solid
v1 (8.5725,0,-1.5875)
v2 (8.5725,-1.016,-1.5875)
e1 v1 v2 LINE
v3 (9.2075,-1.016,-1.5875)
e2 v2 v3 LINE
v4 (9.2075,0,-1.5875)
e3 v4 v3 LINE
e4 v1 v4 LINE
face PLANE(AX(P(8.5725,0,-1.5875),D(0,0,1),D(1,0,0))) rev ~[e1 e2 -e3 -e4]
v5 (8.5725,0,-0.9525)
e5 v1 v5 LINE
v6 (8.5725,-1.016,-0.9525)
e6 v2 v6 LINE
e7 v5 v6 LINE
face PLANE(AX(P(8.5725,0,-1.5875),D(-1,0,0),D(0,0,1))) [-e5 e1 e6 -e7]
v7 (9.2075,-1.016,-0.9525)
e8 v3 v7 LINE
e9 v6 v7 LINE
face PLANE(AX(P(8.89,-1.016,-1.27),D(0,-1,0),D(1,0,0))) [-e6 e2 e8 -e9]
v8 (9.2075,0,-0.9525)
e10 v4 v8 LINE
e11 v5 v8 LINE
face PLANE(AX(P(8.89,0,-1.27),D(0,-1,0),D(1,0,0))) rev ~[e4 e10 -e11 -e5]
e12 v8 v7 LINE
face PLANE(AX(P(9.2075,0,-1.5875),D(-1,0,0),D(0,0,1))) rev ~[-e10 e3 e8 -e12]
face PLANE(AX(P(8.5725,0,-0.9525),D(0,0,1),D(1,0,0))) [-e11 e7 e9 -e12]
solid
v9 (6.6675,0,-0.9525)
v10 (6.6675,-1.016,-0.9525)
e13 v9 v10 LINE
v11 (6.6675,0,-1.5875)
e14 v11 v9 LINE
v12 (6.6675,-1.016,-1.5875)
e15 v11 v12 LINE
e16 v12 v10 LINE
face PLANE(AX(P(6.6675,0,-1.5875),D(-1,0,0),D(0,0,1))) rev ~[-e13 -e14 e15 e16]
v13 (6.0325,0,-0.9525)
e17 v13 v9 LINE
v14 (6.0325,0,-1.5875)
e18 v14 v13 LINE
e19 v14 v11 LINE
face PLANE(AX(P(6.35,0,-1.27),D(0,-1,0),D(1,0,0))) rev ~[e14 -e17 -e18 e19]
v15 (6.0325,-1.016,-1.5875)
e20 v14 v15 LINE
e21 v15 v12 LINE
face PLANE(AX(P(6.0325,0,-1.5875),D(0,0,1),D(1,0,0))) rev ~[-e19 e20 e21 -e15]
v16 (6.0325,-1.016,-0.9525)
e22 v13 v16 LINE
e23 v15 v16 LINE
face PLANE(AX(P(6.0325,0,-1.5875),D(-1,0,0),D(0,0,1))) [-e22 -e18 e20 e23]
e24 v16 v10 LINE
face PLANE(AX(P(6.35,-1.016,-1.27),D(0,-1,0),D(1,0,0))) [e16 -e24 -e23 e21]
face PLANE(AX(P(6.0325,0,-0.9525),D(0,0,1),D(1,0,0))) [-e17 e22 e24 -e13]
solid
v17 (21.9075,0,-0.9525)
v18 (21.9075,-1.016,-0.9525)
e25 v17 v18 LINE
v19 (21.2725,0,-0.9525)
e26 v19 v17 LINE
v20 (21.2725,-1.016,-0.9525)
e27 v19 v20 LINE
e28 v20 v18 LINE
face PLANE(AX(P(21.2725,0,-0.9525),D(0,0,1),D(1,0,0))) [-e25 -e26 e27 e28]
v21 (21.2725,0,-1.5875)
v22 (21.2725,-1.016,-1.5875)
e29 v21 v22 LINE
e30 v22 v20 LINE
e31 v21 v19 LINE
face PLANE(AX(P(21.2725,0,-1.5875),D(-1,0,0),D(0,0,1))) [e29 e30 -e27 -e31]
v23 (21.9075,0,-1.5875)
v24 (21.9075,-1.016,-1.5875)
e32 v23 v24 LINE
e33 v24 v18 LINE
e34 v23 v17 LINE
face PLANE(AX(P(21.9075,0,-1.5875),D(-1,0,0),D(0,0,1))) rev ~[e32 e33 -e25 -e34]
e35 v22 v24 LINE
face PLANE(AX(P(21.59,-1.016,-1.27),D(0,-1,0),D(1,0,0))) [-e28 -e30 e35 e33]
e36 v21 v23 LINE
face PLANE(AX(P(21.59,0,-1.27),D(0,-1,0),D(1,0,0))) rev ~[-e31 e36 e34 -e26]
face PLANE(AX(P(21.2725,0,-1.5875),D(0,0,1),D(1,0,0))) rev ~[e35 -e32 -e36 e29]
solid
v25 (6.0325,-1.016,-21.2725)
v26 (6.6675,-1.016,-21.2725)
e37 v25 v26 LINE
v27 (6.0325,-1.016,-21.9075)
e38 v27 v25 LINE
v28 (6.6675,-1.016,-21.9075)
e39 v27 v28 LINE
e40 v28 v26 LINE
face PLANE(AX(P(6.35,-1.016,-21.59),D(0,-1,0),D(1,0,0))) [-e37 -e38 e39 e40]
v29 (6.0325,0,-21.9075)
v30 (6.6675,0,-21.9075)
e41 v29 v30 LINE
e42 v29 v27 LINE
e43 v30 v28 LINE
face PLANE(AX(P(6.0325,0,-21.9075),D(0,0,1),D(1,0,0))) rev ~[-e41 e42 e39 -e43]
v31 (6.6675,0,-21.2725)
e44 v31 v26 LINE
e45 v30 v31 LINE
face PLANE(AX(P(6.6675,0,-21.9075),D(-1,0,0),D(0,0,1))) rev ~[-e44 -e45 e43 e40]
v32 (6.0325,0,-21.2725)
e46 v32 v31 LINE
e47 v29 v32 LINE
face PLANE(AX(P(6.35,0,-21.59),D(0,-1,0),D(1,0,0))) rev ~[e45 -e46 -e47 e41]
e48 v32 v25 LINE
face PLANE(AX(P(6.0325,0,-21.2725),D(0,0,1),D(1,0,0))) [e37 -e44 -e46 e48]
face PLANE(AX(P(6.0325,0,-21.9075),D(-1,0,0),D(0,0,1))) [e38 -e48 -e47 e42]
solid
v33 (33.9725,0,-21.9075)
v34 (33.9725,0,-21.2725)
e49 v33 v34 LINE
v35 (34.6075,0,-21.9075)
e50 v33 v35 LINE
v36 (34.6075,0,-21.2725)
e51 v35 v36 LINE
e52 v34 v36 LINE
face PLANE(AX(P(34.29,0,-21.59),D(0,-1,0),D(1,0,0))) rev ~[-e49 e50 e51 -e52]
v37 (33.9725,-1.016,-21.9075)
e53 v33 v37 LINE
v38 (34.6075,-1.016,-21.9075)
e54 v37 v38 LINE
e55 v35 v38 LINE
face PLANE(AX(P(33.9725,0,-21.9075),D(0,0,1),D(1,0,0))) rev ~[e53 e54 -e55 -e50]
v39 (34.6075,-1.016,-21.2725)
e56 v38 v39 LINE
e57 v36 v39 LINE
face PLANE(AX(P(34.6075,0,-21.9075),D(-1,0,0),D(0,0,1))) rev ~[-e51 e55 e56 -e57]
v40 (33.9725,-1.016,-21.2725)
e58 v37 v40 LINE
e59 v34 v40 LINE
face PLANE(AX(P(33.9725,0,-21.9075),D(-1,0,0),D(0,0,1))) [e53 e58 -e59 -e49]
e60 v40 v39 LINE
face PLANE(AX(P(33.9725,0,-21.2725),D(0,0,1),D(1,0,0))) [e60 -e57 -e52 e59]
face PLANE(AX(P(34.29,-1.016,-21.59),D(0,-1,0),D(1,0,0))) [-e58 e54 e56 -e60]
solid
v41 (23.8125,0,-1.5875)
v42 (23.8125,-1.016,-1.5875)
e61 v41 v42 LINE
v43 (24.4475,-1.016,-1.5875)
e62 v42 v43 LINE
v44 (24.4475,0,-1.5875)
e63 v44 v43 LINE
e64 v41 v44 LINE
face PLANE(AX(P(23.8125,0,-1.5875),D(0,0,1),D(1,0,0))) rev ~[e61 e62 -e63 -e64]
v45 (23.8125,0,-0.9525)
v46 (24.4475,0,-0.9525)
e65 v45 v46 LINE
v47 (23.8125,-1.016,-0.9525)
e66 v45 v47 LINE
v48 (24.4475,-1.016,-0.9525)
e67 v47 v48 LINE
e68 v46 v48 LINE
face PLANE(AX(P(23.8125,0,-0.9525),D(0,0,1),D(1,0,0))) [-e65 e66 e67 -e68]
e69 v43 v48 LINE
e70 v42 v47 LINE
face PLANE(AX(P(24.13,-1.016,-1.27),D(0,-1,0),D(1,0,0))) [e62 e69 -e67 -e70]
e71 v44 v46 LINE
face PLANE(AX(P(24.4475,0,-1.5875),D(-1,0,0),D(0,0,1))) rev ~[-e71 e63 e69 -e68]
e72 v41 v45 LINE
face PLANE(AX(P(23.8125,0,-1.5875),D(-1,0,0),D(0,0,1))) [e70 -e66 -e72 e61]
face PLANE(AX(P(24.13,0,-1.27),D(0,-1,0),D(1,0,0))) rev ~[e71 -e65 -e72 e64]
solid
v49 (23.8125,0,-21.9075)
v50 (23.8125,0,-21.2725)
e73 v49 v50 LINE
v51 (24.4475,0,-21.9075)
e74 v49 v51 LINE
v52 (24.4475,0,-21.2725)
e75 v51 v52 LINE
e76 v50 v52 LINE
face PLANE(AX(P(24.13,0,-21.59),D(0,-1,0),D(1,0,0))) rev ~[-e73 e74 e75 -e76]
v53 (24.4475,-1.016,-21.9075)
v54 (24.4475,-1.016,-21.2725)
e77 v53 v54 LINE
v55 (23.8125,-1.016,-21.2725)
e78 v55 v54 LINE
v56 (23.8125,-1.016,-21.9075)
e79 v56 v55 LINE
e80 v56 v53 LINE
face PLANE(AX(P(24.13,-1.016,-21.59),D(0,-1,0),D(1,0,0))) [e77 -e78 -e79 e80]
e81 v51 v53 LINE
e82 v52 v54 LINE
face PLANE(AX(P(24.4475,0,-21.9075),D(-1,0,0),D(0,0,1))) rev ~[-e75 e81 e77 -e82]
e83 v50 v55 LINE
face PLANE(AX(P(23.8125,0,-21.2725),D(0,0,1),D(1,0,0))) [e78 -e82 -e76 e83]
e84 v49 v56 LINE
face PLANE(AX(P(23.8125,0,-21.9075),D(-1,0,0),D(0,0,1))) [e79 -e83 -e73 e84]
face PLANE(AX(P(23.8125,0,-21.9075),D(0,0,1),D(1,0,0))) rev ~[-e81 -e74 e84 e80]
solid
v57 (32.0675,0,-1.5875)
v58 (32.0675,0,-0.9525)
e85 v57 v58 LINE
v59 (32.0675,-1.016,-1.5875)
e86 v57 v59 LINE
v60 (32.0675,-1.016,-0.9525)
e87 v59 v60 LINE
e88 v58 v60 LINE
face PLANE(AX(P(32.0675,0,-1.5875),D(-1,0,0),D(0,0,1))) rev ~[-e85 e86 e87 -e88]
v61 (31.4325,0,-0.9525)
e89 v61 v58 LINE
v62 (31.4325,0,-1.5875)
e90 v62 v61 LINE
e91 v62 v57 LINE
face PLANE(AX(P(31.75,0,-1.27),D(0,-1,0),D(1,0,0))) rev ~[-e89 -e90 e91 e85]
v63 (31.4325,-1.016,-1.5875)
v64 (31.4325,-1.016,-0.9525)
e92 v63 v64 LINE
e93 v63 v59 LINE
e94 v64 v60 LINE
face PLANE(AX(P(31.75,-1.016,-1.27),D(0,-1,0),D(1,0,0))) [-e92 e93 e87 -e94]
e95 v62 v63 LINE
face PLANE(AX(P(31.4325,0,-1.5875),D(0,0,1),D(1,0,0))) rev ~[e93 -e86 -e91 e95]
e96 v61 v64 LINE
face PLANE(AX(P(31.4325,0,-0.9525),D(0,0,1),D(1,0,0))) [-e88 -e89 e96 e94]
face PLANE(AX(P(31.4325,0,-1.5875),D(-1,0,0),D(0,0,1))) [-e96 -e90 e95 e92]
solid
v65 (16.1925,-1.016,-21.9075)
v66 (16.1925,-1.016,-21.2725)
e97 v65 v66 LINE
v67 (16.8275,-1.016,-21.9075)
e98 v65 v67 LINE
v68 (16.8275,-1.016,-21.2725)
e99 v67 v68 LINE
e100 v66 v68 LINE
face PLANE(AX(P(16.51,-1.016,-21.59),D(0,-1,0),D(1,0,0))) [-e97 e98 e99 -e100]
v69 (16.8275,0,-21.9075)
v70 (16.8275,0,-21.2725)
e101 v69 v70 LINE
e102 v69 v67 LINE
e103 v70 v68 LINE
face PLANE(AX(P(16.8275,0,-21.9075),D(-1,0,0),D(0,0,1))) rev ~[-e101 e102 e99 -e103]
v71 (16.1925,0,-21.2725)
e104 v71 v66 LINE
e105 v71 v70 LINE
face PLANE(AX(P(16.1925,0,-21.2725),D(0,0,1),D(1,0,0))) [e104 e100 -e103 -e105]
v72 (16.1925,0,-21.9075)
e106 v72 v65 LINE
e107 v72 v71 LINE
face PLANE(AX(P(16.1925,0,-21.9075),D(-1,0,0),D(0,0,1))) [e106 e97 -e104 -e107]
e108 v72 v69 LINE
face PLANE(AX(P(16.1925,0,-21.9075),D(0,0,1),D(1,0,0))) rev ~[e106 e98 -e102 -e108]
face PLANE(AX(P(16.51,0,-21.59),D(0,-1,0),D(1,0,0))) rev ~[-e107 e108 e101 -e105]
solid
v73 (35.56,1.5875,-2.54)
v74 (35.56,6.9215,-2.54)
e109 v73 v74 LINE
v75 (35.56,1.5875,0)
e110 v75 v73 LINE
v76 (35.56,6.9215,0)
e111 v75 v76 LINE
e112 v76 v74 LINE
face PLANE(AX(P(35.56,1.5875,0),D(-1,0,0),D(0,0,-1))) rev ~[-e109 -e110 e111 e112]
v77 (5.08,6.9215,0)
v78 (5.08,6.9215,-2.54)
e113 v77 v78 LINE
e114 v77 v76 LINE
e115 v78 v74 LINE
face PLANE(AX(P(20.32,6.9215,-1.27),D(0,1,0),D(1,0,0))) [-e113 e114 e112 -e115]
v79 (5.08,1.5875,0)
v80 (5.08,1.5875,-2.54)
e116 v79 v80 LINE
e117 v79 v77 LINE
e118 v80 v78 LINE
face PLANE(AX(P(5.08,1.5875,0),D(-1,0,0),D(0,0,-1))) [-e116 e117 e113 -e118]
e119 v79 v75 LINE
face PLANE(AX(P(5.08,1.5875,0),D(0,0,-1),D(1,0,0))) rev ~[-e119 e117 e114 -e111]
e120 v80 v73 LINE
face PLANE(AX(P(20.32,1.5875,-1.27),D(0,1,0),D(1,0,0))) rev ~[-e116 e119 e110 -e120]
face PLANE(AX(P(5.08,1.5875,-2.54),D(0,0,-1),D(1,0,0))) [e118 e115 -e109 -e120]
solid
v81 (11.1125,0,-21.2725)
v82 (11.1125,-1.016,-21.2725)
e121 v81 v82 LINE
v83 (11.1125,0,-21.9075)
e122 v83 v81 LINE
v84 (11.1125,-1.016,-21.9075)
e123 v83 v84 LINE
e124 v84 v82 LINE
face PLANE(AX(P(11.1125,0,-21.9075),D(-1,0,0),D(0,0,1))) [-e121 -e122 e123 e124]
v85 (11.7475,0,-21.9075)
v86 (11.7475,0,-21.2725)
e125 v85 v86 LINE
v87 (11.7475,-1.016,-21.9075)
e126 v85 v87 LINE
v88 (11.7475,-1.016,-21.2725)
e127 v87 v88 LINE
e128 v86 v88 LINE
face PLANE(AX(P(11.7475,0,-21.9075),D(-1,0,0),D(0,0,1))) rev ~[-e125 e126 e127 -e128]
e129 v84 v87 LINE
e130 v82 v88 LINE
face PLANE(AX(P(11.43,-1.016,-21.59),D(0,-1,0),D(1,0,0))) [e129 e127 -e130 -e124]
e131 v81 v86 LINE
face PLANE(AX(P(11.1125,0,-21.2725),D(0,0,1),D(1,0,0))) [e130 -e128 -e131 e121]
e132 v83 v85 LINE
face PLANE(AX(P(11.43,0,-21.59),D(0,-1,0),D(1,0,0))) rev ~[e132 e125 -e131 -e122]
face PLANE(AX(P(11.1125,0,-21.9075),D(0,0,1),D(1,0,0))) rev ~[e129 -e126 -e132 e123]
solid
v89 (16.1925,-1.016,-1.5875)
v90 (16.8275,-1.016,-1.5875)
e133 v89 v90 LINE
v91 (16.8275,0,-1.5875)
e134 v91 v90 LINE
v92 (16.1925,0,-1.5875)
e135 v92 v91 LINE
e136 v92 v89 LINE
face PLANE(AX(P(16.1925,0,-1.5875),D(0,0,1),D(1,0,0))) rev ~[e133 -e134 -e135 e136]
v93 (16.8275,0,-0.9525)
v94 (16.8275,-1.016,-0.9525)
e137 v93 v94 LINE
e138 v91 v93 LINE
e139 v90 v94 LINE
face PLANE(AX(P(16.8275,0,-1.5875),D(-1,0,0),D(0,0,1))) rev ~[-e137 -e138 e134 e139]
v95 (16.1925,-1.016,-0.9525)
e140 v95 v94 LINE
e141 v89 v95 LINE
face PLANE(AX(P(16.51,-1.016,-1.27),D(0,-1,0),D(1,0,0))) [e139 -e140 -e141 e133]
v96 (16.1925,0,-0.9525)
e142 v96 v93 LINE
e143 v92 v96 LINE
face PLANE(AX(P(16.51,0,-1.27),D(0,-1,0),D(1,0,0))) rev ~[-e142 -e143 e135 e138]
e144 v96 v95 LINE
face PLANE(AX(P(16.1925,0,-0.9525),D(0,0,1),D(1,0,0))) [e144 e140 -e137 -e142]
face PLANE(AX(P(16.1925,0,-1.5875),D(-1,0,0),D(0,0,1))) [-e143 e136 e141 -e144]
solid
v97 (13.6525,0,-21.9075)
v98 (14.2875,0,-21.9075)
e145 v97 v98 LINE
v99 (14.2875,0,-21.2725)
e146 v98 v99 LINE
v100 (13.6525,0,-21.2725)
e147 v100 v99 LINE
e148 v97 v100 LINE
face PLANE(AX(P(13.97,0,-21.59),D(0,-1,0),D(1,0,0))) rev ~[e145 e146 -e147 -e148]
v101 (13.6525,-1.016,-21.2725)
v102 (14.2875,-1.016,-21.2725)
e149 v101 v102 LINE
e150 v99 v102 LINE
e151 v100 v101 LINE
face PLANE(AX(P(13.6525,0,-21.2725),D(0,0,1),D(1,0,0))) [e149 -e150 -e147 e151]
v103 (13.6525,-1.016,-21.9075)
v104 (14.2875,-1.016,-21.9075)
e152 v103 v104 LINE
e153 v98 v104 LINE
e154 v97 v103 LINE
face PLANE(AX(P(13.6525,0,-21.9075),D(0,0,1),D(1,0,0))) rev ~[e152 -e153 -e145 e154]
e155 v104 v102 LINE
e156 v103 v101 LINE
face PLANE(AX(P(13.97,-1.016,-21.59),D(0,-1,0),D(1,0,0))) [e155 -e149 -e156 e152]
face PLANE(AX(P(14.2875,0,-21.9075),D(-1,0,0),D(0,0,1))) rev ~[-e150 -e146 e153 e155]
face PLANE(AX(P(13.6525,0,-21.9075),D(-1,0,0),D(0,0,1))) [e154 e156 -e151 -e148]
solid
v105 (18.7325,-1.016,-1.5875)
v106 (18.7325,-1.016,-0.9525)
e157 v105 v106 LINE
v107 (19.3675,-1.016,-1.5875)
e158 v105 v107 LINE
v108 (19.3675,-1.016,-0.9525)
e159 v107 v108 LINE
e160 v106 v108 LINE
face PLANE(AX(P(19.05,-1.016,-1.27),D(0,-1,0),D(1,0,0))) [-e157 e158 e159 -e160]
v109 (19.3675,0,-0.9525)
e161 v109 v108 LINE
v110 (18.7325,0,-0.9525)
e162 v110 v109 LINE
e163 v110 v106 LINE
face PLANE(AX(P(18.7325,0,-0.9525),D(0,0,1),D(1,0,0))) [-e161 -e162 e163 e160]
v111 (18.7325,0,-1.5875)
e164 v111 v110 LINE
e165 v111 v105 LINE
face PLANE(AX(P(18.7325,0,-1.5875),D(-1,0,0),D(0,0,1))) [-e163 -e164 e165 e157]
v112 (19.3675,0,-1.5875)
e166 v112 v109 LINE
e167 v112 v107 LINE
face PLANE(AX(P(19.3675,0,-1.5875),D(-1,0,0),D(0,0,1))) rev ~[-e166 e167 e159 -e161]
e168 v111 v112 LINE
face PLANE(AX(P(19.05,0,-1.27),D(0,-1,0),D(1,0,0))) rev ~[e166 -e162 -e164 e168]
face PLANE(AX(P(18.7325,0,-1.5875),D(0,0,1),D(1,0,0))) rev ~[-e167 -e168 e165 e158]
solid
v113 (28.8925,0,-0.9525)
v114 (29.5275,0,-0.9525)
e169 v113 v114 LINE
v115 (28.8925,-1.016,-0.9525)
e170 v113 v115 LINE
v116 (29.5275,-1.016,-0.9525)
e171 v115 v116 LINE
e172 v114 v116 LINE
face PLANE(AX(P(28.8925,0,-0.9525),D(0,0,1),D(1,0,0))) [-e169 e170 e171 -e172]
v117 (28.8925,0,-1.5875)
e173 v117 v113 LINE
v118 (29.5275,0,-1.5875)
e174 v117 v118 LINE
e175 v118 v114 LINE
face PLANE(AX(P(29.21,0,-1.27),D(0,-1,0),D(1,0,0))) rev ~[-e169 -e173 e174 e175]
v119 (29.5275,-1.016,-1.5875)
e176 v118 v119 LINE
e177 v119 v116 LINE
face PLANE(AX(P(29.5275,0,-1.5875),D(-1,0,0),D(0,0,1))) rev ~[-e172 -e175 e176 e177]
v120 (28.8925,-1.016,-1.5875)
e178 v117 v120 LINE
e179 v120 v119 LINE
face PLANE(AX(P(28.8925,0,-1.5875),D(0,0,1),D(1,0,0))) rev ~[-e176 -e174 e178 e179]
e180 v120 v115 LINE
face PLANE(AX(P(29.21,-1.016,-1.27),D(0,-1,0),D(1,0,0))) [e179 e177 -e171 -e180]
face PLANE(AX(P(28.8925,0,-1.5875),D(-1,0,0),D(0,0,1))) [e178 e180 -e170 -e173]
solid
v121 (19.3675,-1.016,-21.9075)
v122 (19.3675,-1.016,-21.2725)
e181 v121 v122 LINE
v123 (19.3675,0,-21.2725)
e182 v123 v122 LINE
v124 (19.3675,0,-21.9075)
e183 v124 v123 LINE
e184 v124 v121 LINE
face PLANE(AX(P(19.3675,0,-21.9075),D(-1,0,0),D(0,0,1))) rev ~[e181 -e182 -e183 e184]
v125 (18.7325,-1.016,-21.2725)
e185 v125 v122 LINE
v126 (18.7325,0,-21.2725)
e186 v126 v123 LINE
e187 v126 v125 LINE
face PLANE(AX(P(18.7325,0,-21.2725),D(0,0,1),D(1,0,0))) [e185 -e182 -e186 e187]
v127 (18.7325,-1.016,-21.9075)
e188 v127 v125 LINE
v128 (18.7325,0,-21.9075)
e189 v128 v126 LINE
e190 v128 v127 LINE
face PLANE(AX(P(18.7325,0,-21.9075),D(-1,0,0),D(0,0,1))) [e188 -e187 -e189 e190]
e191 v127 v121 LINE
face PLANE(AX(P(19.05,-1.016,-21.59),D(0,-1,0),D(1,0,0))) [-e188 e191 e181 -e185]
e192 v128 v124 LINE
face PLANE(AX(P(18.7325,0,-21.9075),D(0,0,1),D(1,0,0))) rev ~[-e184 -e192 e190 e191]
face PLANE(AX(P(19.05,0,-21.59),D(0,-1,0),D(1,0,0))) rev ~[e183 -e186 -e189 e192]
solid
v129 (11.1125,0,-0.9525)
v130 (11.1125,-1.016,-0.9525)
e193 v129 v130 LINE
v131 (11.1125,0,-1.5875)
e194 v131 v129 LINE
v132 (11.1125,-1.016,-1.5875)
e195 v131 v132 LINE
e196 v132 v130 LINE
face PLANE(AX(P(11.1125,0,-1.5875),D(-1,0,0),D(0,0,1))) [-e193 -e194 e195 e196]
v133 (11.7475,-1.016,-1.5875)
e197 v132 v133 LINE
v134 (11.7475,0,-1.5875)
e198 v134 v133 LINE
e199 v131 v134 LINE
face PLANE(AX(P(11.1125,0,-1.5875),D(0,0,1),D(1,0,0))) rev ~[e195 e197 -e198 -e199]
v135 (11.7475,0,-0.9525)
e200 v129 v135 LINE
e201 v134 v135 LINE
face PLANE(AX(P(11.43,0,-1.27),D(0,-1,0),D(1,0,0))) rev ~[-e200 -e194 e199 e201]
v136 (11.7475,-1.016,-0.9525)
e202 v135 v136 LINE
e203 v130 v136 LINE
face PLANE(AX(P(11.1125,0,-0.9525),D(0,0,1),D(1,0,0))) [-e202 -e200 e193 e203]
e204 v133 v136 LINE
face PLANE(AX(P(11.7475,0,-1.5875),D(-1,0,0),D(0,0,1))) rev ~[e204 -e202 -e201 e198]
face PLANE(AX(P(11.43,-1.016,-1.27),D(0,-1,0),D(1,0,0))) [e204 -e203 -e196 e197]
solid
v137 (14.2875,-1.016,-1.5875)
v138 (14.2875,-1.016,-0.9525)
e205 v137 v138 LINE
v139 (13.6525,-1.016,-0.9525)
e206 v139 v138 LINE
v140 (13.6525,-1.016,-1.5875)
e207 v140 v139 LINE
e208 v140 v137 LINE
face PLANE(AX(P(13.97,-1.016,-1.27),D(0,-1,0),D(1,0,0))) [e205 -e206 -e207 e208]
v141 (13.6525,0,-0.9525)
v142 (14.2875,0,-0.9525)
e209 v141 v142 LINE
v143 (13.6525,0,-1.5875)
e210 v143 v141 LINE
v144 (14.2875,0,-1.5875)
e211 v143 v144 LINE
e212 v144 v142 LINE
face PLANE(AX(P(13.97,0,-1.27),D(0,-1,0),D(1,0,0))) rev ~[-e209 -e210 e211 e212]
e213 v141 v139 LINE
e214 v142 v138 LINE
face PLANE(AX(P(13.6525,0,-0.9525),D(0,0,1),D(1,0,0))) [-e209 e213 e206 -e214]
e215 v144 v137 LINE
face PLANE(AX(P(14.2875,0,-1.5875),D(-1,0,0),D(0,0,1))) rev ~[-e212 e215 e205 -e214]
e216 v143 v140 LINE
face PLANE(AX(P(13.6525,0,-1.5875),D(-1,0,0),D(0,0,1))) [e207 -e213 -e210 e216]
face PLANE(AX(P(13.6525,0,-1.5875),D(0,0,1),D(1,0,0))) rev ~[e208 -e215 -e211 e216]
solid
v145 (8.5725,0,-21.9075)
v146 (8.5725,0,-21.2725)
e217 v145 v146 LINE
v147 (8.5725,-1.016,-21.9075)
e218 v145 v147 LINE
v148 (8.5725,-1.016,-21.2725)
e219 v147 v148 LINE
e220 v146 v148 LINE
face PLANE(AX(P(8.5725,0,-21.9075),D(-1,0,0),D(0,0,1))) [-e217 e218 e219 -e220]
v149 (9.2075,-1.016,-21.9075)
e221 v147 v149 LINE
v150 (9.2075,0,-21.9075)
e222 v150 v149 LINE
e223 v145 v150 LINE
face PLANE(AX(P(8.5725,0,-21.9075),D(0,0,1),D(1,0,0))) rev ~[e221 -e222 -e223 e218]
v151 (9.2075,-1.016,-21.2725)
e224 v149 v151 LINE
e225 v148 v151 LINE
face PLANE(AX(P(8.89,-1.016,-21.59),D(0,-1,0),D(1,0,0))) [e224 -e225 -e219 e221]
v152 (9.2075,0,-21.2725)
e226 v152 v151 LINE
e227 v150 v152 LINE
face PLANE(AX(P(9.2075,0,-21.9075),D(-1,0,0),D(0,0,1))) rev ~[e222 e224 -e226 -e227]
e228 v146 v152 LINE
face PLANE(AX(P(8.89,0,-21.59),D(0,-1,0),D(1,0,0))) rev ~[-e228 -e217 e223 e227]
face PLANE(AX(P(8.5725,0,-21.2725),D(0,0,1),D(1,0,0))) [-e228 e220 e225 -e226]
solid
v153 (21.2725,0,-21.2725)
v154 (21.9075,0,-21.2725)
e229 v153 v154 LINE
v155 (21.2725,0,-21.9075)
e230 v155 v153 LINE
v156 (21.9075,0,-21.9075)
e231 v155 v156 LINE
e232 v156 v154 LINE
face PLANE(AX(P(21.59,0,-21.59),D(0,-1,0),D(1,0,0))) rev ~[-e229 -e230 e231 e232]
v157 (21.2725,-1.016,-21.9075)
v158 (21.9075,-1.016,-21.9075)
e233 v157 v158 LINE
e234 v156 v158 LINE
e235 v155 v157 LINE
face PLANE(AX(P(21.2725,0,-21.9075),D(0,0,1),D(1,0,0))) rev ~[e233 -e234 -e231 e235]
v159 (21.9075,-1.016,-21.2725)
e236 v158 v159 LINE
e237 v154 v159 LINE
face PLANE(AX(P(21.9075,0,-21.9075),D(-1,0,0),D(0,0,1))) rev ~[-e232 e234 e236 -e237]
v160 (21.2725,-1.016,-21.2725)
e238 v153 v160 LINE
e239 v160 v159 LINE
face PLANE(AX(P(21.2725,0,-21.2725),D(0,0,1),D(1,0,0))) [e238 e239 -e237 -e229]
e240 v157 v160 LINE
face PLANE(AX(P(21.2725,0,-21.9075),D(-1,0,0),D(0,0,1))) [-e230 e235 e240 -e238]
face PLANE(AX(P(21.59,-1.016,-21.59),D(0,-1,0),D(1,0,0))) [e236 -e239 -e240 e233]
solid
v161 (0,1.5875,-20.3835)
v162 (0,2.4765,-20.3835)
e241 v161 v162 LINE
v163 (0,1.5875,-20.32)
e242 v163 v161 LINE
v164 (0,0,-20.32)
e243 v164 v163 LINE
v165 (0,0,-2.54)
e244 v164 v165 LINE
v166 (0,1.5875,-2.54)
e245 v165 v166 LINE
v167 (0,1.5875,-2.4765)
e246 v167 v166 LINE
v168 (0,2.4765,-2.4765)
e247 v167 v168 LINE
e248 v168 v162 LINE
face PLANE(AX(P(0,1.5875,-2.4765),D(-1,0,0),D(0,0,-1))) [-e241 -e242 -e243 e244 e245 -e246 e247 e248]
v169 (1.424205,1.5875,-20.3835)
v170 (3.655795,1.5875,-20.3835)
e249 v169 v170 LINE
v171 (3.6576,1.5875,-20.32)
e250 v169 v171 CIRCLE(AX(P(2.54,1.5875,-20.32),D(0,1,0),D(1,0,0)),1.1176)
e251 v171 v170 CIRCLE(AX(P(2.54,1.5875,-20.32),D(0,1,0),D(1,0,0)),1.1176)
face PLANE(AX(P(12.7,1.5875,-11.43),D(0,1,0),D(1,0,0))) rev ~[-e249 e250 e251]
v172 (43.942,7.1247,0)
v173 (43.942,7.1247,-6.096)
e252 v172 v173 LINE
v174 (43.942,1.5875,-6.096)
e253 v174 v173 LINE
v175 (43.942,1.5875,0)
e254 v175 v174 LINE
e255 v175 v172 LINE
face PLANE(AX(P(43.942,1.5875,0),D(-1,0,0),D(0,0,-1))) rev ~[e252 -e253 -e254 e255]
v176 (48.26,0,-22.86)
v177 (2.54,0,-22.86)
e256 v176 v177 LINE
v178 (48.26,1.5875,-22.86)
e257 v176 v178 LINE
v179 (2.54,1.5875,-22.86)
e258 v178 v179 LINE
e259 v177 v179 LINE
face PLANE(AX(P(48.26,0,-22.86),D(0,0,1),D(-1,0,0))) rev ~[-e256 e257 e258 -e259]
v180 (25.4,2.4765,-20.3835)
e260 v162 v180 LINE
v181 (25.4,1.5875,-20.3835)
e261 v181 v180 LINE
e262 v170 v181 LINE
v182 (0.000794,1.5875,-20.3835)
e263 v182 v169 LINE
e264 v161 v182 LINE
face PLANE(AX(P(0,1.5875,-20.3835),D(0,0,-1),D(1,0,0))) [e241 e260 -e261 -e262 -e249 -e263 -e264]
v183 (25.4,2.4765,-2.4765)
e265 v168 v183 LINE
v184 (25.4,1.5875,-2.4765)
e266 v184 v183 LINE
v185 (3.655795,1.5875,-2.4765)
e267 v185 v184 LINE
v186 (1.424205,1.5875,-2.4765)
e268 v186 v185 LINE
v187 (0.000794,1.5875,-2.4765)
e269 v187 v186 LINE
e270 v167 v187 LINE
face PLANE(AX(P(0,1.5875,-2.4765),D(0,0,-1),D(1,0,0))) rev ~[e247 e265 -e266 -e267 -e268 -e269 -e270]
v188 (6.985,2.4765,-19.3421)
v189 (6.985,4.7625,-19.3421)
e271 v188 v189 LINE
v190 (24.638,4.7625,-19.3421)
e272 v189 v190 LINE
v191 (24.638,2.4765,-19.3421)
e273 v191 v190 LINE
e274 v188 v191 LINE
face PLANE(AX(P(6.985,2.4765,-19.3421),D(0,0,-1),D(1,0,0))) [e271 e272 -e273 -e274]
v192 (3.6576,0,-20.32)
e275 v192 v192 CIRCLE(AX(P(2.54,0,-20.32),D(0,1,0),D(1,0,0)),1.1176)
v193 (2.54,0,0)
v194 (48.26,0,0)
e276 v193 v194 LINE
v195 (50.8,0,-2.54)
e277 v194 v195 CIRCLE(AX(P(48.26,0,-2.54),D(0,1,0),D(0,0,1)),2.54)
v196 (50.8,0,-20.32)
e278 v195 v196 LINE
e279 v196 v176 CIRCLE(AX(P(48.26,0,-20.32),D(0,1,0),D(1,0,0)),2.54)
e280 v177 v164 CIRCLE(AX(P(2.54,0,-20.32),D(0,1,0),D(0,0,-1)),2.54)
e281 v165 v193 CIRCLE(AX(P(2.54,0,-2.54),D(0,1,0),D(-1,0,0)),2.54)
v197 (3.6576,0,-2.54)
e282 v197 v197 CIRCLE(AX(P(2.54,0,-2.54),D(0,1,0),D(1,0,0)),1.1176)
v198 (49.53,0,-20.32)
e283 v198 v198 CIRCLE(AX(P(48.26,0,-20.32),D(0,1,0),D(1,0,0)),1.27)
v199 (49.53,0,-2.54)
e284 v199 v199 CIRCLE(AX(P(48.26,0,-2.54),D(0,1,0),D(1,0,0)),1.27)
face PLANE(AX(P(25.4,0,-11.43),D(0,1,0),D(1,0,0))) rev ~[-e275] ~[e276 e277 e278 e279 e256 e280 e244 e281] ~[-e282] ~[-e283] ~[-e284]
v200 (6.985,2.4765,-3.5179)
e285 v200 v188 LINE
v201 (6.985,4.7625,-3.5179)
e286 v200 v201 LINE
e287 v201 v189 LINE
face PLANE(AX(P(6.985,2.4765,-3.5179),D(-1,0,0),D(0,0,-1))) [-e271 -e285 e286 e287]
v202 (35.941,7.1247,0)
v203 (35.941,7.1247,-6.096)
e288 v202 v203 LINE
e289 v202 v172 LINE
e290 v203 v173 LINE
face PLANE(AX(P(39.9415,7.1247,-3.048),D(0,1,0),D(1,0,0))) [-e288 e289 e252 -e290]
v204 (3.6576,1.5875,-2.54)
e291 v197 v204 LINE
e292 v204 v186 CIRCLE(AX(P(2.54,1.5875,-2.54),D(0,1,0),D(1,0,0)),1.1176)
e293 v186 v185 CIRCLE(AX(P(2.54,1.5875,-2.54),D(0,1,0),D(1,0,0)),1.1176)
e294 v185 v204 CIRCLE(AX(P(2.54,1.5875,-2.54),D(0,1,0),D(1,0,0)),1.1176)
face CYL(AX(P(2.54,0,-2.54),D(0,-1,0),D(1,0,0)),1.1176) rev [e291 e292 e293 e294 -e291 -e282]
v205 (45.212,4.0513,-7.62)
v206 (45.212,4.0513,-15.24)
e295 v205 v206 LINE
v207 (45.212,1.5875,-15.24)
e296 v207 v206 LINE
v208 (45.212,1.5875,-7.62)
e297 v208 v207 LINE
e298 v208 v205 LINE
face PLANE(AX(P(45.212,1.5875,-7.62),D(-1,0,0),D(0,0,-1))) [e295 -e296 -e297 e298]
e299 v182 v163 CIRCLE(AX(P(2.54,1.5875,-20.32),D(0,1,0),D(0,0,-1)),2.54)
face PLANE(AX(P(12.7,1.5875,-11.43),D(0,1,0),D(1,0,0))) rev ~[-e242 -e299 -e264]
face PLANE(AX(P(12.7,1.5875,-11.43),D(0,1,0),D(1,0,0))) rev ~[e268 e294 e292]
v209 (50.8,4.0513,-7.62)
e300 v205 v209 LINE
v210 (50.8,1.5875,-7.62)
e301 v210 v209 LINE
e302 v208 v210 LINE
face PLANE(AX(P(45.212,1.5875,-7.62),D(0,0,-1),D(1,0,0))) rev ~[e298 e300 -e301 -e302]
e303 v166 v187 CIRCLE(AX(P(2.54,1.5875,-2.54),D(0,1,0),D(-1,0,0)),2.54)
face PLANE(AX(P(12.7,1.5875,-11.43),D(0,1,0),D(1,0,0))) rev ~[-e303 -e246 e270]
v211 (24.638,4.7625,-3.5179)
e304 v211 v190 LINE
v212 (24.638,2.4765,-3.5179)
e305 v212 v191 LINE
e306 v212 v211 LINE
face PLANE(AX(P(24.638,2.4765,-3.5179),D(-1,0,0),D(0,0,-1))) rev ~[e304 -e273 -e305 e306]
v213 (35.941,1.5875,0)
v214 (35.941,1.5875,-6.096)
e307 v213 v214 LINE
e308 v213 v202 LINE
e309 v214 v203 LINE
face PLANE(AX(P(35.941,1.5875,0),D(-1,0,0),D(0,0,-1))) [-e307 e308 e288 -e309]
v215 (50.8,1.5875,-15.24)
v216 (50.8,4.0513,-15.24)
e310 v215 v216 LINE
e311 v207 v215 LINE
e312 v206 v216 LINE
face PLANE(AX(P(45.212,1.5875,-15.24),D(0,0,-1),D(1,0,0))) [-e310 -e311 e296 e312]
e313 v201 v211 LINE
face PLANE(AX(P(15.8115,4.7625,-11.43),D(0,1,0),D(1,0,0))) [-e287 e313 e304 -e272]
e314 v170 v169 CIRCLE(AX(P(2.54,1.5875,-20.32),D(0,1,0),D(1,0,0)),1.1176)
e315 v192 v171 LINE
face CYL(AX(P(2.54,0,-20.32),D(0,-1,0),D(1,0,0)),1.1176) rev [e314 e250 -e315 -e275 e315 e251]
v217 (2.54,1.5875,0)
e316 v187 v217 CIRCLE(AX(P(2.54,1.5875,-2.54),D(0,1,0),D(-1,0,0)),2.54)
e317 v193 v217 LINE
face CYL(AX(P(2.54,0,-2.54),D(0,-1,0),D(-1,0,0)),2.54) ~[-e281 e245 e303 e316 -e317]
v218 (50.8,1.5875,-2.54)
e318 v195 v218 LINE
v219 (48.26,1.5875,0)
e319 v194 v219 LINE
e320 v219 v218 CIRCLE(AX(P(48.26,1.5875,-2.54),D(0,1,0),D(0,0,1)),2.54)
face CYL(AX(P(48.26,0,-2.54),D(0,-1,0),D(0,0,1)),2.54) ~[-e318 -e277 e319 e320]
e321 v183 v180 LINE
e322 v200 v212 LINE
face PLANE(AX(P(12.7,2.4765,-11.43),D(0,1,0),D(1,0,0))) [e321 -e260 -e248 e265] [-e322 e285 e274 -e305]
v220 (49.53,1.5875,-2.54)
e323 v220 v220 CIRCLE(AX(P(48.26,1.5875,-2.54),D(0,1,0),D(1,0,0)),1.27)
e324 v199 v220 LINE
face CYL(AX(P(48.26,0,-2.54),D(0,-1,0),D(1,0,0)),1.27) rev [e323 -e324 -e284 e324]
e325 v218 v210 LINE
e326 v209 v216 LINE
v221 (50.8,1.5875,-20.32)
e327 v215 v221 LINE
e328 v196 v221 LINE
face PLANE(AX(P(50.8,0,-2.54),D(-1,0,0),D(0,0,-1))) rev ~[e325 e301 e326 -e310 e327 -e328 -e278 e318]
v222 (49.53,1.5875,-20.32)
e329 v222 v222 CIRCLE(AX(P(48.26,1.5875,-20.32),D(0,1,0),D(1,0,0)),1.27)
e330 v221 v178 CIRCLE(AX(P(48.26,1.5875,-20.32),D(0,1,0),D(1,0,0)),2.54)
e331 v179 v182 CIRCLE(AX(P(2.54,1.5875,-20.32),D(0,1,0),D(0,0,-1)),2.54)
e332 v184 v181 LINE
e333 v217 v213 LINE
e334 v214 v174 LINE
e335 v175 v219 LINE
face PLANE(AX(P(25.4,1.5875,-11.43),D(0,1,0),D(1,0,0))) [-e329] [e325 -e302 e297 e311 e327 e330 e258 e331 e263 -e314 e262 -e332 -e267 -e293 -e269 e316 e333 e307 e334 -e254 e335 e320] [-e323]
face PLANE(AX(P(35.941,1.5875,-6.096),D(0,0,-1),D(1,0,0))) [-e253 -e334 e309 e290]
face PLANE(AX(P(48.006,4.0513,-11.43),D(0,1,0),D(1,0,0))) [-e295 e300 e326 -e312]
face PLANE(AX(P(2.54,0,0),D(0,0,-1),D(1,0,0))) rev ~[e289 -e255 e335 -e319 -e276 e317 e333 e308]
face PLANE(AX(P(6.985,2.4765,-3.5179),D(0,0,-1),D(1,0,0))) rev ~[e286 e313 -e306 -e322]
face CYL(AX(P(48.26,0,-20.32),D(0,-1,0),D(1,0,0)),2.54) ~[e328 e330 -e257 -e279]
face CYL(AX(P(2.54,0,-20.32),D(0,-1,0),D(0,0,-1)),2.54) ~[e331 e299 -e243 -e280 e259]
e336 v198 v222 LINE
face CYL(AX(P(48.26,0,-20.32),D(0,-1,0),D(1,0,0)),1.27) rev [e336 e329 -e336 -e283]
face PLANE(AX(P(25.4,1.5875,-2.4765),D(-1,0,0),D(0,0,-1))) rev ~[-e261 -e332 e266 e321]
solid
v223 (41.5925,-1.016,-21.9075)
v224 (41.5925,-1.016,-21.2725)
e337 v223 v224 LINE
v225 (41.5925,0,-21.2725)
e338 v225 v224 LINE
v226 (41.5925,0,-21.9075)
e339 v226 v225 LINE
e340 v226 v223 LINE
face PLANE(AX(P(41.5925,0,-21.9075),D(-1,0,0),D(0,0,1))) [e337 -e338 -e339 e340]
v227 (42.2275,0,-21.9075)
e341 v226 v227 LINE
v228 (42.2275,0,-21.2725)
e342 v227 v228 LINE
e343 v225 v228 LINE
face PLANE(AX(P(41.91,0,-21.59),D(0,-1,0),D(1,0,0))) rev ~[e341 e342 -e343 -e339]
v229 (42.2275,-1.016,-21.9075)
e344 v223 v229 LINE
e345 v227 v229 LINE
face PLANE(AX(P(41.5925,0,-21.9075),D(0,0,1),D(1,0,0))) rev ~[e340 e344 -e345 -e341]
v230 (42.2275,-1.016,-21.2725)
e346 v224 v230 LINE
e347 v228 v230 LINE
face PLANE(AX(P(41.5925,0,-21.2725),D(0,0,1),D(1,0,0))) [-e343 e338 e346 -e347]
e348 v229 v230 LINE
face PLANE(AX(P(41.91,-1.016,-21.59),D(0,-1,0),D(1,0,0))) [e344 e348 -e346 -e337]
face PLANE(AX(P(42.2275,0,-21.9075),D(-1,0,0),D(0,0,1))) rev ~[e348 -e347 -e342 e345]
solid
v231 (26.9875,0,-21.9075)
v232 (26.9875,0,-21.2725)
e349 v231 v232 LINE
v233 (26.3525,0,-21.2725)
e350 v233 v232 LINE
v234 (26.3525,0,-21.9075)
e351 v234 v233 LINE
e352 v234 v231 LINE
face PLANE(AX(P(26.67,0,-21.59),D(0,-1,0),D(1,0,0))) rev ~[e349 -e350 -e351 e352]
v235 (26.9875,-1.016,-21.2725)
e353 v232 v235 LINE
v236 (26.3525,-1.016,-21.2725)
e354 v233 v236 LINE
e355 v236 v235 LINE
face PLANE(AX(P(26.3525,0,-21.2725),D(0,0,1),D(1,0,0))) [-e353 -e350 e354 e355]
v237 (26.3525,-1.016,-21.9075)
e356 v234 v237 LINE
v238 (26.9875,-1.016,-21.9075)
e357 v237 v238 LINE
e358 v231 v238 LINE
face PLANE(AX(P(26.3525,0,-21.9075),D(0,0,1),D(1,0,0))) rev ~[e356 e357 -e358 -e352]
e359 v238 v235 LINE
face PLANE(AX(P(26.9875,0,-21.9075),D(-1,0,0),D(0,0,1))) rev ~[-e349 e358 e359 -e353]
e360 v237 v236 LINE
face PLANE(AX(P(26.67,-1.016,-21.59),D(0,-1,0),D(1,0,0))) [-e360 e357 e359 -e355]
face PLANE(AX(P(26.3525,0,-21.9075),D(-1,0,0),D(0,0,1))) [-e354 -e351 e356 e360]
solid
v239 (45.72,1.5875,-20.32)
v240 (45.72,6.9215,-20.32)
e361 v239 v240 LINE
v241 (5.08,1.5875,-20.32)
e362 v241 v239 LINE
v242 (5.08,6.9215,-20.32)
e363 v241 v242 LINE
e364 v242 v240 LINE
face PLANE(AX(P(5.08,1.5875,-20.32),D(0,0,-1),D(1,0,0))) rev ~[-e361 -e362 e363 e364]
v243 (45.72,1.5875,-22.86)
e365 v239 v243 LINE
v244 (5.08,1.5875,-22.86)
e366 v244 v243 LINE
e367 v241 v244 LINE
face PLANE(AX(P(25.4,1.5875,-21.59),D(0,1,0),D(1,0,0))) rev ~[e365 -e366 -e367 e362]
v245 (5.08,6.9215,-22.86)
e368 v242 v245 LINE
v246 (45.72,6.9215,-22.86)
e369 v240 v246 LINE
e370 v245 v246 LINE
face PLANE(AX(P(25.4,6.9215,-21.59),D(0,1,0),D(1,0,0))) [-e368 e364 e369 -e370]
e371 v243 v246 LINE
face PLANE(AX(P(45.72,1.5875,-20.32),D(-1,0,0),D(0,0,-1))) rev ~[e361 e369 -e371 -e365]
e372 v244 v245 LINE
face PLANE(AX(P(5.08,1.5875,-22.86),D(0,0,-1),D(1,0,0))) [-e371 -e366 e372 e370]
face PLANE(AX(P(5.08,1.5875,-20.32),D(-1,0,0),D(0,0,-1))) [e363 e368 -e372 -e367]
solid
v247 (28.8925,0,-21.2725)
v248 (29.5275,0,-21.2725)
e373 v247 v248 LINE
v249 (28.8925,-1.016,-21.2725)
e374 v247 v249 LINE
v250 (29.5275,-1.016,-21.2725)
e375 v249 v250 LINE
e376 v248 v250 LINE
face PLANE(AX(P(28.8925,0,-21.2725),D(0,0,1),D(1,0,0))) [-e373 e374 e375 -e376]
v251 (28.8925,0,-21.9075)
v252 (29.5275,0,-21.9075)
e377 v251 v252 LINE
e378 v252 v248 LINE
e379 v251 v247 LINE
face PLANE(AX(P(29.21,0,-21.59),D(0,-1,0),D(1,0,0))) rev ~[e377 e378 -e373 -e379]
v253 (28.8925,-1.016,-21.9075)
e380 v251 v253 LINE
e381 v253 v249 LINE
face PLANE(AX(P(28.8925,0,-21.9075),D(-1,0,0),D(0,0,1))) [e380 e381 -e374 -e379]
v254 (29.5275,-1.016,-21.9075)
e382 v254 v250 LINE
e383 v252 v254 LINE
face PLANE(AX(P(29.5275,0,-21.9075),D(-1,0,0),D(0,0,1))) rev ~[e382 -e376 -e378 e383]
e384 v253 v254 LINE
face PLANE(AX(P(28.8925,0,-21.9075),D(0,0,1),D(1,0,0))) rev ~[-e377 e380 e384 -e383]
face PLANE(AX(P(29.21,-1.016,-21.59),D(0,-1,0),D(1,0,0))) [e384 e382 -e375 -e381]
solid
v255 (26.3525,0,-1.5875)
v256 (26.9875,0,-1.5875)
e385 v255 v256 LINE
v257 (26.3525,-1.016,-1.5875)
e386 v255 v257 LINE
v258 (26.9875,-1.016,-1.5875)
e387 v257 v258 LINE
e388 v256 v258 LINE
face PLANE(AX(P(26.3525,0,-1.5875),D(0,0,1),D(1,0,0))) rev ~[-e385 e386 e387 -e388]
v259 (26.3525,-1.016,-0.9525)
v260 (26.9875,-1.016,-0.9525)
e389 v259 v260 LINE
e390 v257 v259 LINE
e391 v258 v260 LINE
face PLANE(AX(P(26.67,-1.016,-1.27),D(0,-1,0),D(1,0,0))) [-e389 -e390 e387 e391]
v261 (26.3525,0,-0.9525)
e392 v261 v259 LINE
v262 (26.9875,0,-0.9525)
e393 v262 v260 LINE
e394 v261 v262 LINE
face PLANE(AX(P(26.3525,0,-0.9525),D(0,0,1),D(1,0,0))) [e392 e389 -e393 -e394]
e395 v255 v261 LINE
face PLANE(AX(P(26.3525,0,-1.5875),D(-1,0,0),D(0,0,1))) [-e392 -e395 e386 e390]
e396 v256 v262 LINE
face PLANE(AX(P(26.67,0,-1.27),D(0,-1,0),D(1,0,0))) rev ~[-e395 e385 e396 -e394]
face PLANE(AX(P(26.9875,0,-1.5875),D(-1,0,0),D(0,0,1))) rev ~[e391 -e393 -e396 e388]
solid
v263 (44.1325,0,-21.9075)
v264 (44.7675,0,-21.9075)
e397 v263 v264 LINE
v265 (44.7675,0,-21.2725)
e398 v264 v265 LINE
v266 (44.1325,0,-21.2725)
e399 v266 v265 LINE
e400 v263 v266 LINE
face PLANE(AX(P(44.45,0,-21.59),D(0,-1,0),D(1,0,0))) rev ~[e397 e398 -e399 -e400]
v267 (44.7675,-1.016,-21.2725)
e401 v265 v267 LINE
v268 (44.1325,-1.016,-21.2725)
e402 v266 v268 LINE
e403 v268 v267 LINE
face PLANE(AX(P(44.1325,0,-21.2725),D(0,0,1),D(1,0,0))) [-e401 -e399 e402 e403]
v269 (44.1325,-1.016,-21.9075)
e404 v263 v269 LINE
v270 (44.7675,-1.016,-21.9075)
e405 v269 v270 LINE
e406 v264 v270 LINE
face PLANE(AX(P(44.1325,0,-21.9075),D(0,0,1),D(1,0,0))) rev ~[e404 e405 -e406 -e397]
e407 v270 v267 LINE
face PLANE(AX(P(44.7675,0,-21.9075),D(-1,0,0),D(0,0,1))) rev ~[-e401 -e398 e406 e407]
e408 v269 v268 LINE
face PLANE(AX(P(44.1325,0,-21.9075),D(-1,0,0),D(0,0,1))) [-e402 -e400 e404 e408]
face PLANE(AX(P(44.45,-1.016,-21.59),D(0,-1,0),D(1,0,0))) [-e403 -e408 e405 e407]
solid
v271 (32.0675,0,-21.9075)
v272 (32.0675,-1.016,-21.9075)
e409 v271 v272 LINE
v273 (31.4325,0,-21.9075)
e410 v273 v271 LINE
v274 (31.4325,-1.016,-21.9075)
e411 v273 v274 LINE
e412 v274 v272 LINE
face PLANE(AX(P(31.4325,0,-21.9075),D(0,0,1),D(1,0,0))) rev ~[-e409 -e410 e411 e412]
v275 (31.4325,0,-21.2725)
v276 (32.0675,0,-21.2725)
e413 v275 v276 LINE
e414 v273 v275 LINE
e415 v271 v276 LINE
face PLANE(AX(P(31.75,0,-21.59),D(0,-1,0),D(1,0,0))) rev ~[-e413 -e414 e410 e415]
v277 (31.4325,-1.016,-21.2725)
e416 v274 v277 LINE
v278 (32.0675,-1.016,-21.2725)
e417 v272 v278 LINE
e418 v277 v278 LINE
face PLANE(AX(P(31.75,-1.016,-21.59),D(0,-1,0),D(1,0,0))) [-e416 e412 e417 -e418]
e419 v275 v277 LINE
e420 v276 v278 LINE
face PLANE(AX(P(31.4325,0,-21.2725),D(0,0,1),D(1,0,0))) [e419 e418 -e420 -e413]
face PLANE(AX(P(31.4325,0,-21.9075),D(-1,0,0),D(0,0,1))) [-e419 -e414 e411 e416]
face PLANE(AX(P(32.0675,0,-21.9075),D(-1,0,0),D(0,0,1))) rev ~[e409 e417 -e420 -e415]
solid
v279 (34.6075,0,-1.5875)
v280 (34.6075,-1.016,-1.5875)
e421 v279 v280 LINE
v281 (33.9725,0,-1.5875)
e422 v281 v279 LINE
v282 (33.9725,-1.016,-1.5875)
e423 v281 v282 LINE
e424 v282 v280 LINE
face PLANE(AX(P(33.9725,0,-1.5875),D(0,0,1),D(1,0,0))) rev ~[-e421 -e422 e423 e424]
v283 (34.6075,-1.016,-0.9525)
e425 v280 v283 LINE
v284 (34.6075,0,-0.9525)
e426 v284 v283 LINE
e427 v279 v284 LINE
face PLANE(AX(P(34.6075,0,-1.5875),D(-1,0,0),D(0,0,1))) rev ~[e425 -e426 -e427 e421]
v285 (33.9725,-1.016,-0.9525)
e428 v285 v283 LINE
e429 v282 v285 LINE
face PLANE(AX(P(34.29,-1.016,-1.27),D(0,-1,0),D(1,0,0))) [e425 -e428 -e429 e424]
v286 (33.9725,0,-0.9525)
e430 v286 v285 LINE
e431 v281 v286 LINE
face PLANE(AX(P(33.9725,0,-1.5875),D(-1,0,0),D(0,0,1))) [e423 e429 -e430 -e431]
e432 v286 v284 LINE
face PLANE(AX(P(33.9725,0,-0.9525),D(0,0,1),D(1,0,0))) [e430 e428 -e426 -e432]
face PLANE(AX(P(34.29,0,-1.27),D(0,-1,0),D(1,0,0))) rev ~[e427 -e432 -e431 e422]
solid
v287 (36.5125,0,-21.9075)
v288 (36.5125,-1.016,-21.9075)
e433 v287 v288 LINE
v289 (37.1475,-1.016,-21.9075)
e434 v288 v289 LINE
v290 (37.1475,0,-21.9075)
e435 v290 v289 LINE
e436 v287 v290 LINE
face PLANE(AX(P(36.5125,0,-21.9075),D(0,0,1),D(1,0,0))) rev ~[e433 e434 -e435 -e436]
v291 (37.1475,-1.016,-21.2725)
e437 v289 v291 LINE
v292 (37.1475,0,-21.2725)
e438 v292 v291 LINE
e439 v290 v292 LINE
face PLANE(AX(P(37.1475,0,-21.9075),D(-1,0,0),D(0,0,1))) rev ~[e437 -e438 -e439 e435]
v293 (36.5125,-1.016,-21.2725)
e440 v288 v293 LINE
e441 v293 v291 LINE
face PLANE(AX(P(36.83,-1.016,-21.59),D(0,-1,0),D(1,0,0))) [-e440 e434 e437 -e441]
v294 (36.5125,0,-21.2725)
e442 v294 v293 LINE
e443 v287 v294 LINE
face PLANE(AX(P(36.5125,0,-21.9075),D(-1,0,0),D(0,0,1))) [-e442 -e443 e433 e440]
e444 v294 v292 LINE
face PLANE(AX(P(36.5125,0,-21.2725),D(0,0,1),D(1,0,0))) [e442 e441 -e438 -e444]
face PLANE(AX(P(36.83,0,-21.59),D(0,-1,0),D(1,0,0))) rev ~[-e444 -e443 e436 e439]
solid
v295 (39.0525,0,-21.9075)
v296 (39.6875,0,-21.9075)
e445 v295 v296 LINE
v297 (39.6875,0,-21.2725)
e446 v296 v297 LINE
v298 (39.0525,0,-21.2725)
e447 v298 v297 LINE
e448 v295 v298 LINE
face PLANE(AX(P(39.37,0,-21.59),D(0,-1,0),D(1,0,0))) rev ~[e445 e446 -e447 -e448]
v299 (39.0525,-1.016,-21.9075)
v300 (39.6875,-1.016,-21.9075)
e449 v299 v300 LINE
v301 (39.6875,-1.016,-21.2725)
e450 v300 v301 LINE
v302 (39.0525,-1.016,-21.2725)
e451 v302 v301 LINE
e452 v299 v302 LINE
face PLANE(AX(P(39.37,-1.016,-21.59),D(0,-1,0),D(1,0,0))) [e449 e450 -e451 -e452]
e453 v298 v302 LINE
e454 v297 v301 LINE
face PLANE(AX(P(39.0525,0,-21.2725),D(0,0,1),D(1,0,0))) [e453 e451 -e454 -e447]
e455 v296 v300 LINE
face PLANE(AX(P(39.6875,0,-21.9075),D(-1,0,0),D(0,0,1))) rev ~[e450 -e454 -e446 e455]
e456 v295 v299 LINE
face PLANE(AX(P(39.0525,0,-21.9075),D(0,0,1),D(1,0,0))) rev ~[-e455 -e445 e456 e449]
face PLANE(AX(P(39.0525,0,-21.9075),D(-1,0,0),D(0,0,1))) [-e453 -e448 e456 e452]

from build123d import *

# Parameters (mm, degrees)
SKETCH1_R              = 1.27
SKETCH1_R_2            = 1.1176
BOSS_EXTRUDE1_DEPTH    = 1.5875
SKETCH2_W              = 25.4
SKETCH2_H              = 17.907
BOSS_EXTRUDE2_DEPTH    = 0.889
BOSS_EXTRUDE3_START    = 0.889
SKETCH2_3_W            = 17.653
SKETCH2_3_H            = 15.8242
BOSS_EXTRUDE3_DEPTH    = 2.286
SKETCH2_4_W            = 8.001
SKETCH2_4_H            = 6.096
BOSS_EXTRUDE4_DEPTH    = 5.5372
SKETCH2_5_W            = 5.588
SKETCH2_5_H            = 7.62
BOSS_EXTRUDE5_DEPTH    = 2.4638
SKETCH3_W              = 0.635
SKETCH3_H              = 0.635
BOSS_EXTRUDE6_DEPTH    = 1.016
BOSS_EXTRUDE6_2_DEPTH  = 1.016
BOSS_EXTRUDE6_3_DEPTH  = 1.016
BOSS_EXTRUDE6_4_DEPTH  = 1.016
BOSS_EXTRUDE6_5_DEPTH  = 1.016
BOSS_EXTRUDE6_6_DEPTH  = 1.016
BOSS_EXTRUDE6_7_DEPTH  = 1.016
BOSS_EXTRUDE6_8_DEPTH  = 1.016
BOSS_EXTRUDE6_9_DEPTH  = 1.016
BOSS_EXTRUDE6_10_DEPTH = 1.016
BOSS_EXTRUDE6_11_DEPTH = 1.016
BOSS_EXTRUDE6_12_DEPTH = 1.016
BOSS_EXTRUDE6_13_DEPTH = 1.016
BOSS_EXTRUDE6_14_DEPTH = 1.016
BOSS_EXTRUDE6_15_DEPTH = 1.016
BOSS_EXTRUDE6_16_DEPTH = 1.016
BOSS_EXTRUDE6_17_DEPTH = 1.016
BOSS_EXTRUDE6_18_DEPTH = 1.016
BOSS_EXTRUDE6_19_DEPTH = 1.016
BOSS_EXTRUDE6_20_DEPTH = 1.016
BOSS_EXTRUDE6_21_DEPTH = 1.016
BOSS_EXTRUDE6_22_DEPTH = 1.016
BOSS_EXTRUDE6_23_DEPTH = 1.016
BOSS_EXTRUDE6_24_DEPTH = 1.016
BOSS_EXTRUDE6_25_DEPTH = 1.016
BOSS_EXTRUDE6_26_DEPTH = 1.016
BOSS_EXTRUDE6_27_DEPTH = 1.016
BOSS_EXTRUDE6_28_DEPTH = 1.016
SKETCH4_W              = 30.48
SKETCH4_H              = 2.54
BOSS_EXTRUDE7_DEPTH    = 5.334
SKETCH4_W_2            = 40.64
BOSS_EXTRUDE7_2_DEPTH  = 5.334


with BuildPart() as part:
    # Sketch1 → Boss-Extrude1 (new body)
    with BuildSketch(Plane(origin=(0, 0, 0), x_dir=(1, 0, 0), z_dir=(0, 1, 0))):
        with BuildLine():
            Line((2.54, 0), (48.26, 0))
            ThreePointArc((48.26, 0), (50.056051224, 0.743948776), (50.8, 2.54))
            Line((50.8, 2.54), (50.8, 20.32))
            ThreePointArc((50.8, 20.32), (50.056051224, 22.116051224), (48.26, 22.86))
            Line((48.26, 22.86), (2.54, 22.86))
            ThreePointArc((2.54, 22.86), (0.743948776, 22.116051224), (0, 20.32))
            Line((0, 20.32), (0, 2.54))
            ThreePointArc((0, 2.54), (0.743948776, 0.743948776), (2.54, 0))
        make_face()
        with Locations((48.26, 20.32)):
            Circle(SKETCH1_R, mode=Mode.SUBTRACT)
        with Locations((48.26, 2.54)):
            Circle(SKETCH1_R, mode=Mode.SUBTRACT)
        with Locations((2.54, 20.32)):
            Circle(SKETCH1_R_2, mode=Mode.SUBTRACT)
        with Locations((2.54, 2.54)):
            Circle(SKETCH1_R_2, mode=Mode.SUBTRACT)
    extrude(amount=BOSS_EXTRUDE1_DEPTH)

    # Sketch2 → Boss-Extrude2 (add)
    with BuildSketch(Plane(origin=(0, 1.5875, 1.5875), x_dir=(1, 0, 0), z_dir=(0, 1, 0))):
        with Locations((12.7, 13.0175)):
            Rectangle(SKETCH2_W, SKETCH2_H)
    extrude(amount=BOSS_EXTRUDE2_DEPTH)

    # Sketch2<3> → Boss-Extrude3 (add)
    with BuildSketch(Plane(origin=(0, 1.5875, 1.5875), x_dir=(1, 0, 0), z_dir=(0, 1, 0)).offset(BOSS_EXTRUDE3_START)):
        with Locations((15.8115, 13.0175)):
            Rectangle(SKETCH2_3_W, SKETCH2_3_H)
    extrude(amount=BOSS_EXTRUDE3_DEPTH)

    # Sketch2<4> → Boss-Extrude4 (add)
    with BuildSketch(Plane(origin=(0, 1.5875, 1.5875), x_dir=(1, 0, 0), z_dir=(0, 1, 0))):
        with Locations((39.9415, 4.6355)):
            Rectangle(SKETCH2_4_W, SKETCH2_4_H)
    extrude(amount=BOSS_EXTRUDE4_DEPTH)

    # Sketch2<5> → Boss-Extrude5 (add)
    with BuildSketch(Plane(origin=(0, 1.5875, 1.5875), x_dir=(1, 0, 0), z_dir=(0, 1, 0))):
        with Locations((48.006, 13.0175)):
            Rectangle(SKETCH2_5_W, SKETCH2_5_H)
    extrude(amount=BOSS_EXTRUDE5_DEPTH)


with BuildPart() as body_2:
    # Sketch3 → Boss-Extrude6 (new body)
    with BuildSketch(Plane.XZ):
        with Locations((8.89, -21.59)):
            Rectangle(SKETCH3_W, SKETCH3_H)
    extrude(amount=BOSS_EXTRUDE6_DEPTH)


with BuildPart() as body_3:
    # Sketch3 → Boss-Extrude6 2 (new body)
    with BuildSketch(Plane.XZ):
        with Locations((6.35, -21.59)):
            Rectangle(SKETCH3_W, SKETCH3_H)
    extrude(amount=BOSS_EXTRUDE6_2_DEPTH)


with BuildPart() as body_4:
    # Sketch3 → Boss-Extrude6 3 (new body)
    with BuildSketch(Plane.XZ):
        with Locations((11.43, -21.59)):
            Rectangle(SKETCH3_W, SKETCH3_H)
    extrude(amount=BOSS_EXTRUDE6_3_DEPTH)


with BuildPart() as body_5:
    # Sketch3 → Boss-Extrude6 4 (new body)
    with BuildSketch(Plane.XZ):
        with Locations((13.97, -21.59)):
            Rectangle(SKETCH3_W, SKETCH3_H)
    extrude(amount=BOSS_EXTRUDE6_4_DEPTH)


with BuildPart() as body_6:
    # Sketch3 → Boss-Extrude6 5 (new body)
    with BuildSketch(Plane.XZ):
        with Locations((16.51, -21.59)):
            Rectangle(SKETCH3_W, SKETCH3_H)
    extrude(amount=BOSS_EXTRUDE6_5_DEPTH)


with BuildPart() as body_7:
    # Sketch3 → Boss-Extrude6 6 (new body)
    with BuildSketch(Plane.XZ):
        with Locations((19.05, -21.59)):
            Rectangle(SKETCH3_W, SKETCH3_H)
    extrude(amount=BOSS_EXTRUDE6_6_DEPTH)


with BuildPart() as body_8:
    # Sketch3 → Boss-Extrude6 7 (new body)
    with BuildSketch(Plane.XZ):
        with Locations((21.59, -21.59)):
            Rectangle(SKETCH3_W, SKETCH3_H)
    extrude(amount=BOSS_EXTRUDE6_7_DEPTH)


with BuildPart() as body_9:
    # Sketch3 → Boss-Extrude6 8 (new body)
    with BuildSketch(Plane.XZ):
        with Locations((24.13, -21.59)):
            Rectangle(SKETCH3_W, SKETCH3_H)
    extrude(amount=BOSS_EXTRUDE6_8_DEPTH)


with BuildPart() as body_10:
    # Sketch3 → Boss-Extrude6 9 (new body)
    with BuildSketch(Plane.XZ):
        with Locations((26.67, -21.59)):
            Rectangle(SKETCH3_W, SKETCH3_H)
    extrude(amount=BOSS_EXTRUDE6_9_DEPTH)


with BuildPart() as body_11:
    # Sketch3 → Boss-Extrude6 10 (new body)
    with BuildSketch(Plane.XZ):
        with Locations((29.21, -21.59)):
            Rectangle(SKETCH3_W, SKETCH3_H)
    extrude(amount=BOSS_EXTRUDE6_10_DEPTH)


with BuildPart() as body_12:
    # Sketch3 → Boss-Extrude6 11 (new body)
    with BuildSketch(Plane.XZ):
        with Locations((31.75, -21.59)):
            Rectangle(SKETCH3_W, SKETCH3_H)
    extrude(amount=BOSS_EXTRUDE6_11_DEPTH)


with BuildPart() as body_13:
    # Sketch3 → Boss-Extrude6 12 (new body)
    with BuildSketch(Plane.XZ):
        with Locations((34.29, -21.59)):
            Rectangle(SKETCH3_W, SKETCH3_H)
    extrude(amount=BOSS_EXTRUDE6_12_DEPTH)


with BuildPart() as body_14:
    # Sketch3 → Boss-Extrude6 13 (new body)
    with BuildSketch(Plane.XZ):
        with Locations((36.83, -21.59)):
            Rectangle(SKETCH3_W, SKETCH3_H)
    extrude(amount=BOSS_EXTRUDE6_13_DEPTH)


with BuildPart() as body_15:
    # Sketch3 → Boss-Extrude6 14 (new body)
    with BuildSketch(Plane.XZ):
        with Locations((39.37, -21.59)):
            Rectangle(SKETCH3_W, SKETCH3_H)
    extrude(amount=BOSS_EXTRUDE6_14_DEPTH)


with BuildPart() as body_16:
    # Sketch3 → Boss-Extrude6 15 (new body)
    with BuildSketch(Plane.XZ):
        with Locations((41.91, -21.59)):
            Rectangle(SKETCH3_W, SKETCH3_H)
    extrude(amount=BOSS_EXTRUDE6_15_DEPTH)


with BuildPart() as body_17:
    # Sketch3 → Boss-Extrude6 16 (new body)
    with BuildSketch(Plane.XZ):
        with Locations((44.45, -21.59)):
            Rectangle(SKETCH3_W, SKETCH3_H)
    extrude(amount=BOSS_EXTRUDE6_16_DEPTH)


with BuildPart() as body_18:
    # Sketch3 → Boss-Extrude6 17 (new body)
    with BuildSketch(Plane.XZ):
        with Locations((8.89, -1.27)):
            Rectangle(SKETCH3_W, SKETCH3_H)
    extrude(amount=BOSS_EXTRUDE6_17_DEPTH)


with BuildPart() as body_19:
    # Sketch3 → Boss-Extrude6 18 (new body)
    with BuildSketch(Plane.XZ):
        with Locations((6.35, -1.27)):
            Rectangle(SKETCH3_W, SKETCH3_H)
    extrude(amount=BOSS_EXTRUDE6_18_DEPTH)


with BuildPart() as body_20:
    # Sketch3 → Boss-Extrude6 19 (new body)
    with BuildSketch(Plane.XZ):
        with Locations((11.43, -1.27)):
            Rectangle(SKETCH3_W, SKETCH3_H)
    extrude(amount=BOSS_EXTRUDE6_19_DEPTH)


with BuildPart() as body_21:
    # Sketch3 → Boss-Extrude6 20 (new body)
    with BuildSketch(Plane.XZ):
        with Locations((13.97, -1.27)):
            Rectangle(SKETCH3_W, SKETCH3_H)
    extrude(amount=BOSS_EXTRUDE6_20_DEPTH)


with BuildPart() as body_22:
    # Sketch3 → Boss-Extrude6 21 (new body)
    with BuildSketch(Plane.XZ):
        with Locations((16.51, -1.27)):
            Rectangle(SKETCH3_W, SKETCH3_H)
    extrude(amount=BOSS_EXTRUDE6_21_DEPTH)


with BuildPart() as body_23:
    # Sketch3 → Boss-Extrude6 22 (new body)
    with BuildSketch(Plane.XZ):
        with Locations((19.05, -1.27)):
            Rectangle(SKETCH3_W, SKETCH3_H)
    extrude(amount=BOSS_EXTRUDE6_22_DEPTH)


with BuildPart() as body_24:
    # Sketch3 → Boss-Extrude6 23 (new body)
    with BuildSketch(Plane.XZ):
        with Locations((21.59, -1.27)):
            Rectangle(SKETCH3_W, SKETCH3_H)
    extrude(amount=BOSS_EXTRUDE6_23_DEPTH)


with BuildPart() as body_25:
    # Sketch3 → Boss-Extrude6 24 (new body)
    with BuildSketch(Plane.XZ):
        with Locations((24.13, -1.27)):
            Rectangle(SKETCH3_W, SKETCH3_H)
    extrude(amount=BOSS_EXTRUDE6_24_DEPTH)


with BuildPart() as body_26:
    # Sketch3 → Boss-Extrude6 25 (new body)
    with BuildSketch(Plane.XZ):
        with Locations((26.67, -1.27)):
            Rectangle(SKETCH3_W, SKETCH3_H)
    extrude(amount=BOSS_EXTRUDE6_25_DEPTH)


with BuildPart() as body_27:
    # Sketch3 → Boss-Extrude6 26 (new body)
    with BuildSketch(Plane.XZ):
        with Locations((29.21, -1.27)):
            Rectangle(SKETCH3_W, SKETCH3_H)
    extrude(amount=BOSS_EXTRUDE6_26_DEPTH)


with BuildPart() as body_28:
    # Sketch3 → Boss-Extrude6 27 (new body)
    with BuildSketch(Plane.XZ):
        with Locations((31.75, -1.27)):
            Rectangle(SKETCH3_W, SKETCH3_H)
    extrude(amount=BOSS_EXTRUDE6_27_DEPTH)


with BuildPart() as body_29:
    # Sketch3 → Boss-Extrude6 28 (new body)
    with BuildSketch(Plane.XZ):
        with Locations((34.29, -1.27)):
            Rectangle(SKETCH3_W, SKETCH3_H)
    extrude(amount=BOSS_EXTRUDE6_28_DEPTH)


with BuildPart() as body_30:
    # Sketch4 → Boss-Extrude7 (new body)
    with BuildSketch(Plane(origin=(0, 1.5875, 0), x_dir=(1, 0, 0), z_dir=(0, 1, 0))):
        with Locations((20.32, 1.27)):
            Rectangle(SKETCH4_W, SKETCH4_H)
    extrude(amount=BOSS_EXTRUDE7_DEPTH)


with BuildPart() as body_31:
    # Sketch4 → Boss-Extrude7 2 (new body)
    with BuildSketch(Plane(origin=(0, 1.5875, 0), x_dir=(1, 0, 0), z_dir=(0, 1, 0))):
        with Locations((25.4, 21.59)):
            Rectangle(SKETCH4_W_2, SKETCH4_H)
    extrude(amount=BOSS_EXTRUDE7_2_DEPTH)


solid = Compound([part.part, body_2.part, body_3.part, body_4.part, body_5.part, body_6.part, body_7.part, body_8.part, body_9.part, body_10.part, body_11.part, body_12.part, body_13.part, body_14.part, body_15.part, body_16.part, body_17.part, body_18.part, body_19.part, body_20.part, body_21.part, body_22.part, body_23.part, body_24.part, body_25.part, body_26.part, body_27.part, body_28.part, body_29.part, body_30.part, body_31.part])
